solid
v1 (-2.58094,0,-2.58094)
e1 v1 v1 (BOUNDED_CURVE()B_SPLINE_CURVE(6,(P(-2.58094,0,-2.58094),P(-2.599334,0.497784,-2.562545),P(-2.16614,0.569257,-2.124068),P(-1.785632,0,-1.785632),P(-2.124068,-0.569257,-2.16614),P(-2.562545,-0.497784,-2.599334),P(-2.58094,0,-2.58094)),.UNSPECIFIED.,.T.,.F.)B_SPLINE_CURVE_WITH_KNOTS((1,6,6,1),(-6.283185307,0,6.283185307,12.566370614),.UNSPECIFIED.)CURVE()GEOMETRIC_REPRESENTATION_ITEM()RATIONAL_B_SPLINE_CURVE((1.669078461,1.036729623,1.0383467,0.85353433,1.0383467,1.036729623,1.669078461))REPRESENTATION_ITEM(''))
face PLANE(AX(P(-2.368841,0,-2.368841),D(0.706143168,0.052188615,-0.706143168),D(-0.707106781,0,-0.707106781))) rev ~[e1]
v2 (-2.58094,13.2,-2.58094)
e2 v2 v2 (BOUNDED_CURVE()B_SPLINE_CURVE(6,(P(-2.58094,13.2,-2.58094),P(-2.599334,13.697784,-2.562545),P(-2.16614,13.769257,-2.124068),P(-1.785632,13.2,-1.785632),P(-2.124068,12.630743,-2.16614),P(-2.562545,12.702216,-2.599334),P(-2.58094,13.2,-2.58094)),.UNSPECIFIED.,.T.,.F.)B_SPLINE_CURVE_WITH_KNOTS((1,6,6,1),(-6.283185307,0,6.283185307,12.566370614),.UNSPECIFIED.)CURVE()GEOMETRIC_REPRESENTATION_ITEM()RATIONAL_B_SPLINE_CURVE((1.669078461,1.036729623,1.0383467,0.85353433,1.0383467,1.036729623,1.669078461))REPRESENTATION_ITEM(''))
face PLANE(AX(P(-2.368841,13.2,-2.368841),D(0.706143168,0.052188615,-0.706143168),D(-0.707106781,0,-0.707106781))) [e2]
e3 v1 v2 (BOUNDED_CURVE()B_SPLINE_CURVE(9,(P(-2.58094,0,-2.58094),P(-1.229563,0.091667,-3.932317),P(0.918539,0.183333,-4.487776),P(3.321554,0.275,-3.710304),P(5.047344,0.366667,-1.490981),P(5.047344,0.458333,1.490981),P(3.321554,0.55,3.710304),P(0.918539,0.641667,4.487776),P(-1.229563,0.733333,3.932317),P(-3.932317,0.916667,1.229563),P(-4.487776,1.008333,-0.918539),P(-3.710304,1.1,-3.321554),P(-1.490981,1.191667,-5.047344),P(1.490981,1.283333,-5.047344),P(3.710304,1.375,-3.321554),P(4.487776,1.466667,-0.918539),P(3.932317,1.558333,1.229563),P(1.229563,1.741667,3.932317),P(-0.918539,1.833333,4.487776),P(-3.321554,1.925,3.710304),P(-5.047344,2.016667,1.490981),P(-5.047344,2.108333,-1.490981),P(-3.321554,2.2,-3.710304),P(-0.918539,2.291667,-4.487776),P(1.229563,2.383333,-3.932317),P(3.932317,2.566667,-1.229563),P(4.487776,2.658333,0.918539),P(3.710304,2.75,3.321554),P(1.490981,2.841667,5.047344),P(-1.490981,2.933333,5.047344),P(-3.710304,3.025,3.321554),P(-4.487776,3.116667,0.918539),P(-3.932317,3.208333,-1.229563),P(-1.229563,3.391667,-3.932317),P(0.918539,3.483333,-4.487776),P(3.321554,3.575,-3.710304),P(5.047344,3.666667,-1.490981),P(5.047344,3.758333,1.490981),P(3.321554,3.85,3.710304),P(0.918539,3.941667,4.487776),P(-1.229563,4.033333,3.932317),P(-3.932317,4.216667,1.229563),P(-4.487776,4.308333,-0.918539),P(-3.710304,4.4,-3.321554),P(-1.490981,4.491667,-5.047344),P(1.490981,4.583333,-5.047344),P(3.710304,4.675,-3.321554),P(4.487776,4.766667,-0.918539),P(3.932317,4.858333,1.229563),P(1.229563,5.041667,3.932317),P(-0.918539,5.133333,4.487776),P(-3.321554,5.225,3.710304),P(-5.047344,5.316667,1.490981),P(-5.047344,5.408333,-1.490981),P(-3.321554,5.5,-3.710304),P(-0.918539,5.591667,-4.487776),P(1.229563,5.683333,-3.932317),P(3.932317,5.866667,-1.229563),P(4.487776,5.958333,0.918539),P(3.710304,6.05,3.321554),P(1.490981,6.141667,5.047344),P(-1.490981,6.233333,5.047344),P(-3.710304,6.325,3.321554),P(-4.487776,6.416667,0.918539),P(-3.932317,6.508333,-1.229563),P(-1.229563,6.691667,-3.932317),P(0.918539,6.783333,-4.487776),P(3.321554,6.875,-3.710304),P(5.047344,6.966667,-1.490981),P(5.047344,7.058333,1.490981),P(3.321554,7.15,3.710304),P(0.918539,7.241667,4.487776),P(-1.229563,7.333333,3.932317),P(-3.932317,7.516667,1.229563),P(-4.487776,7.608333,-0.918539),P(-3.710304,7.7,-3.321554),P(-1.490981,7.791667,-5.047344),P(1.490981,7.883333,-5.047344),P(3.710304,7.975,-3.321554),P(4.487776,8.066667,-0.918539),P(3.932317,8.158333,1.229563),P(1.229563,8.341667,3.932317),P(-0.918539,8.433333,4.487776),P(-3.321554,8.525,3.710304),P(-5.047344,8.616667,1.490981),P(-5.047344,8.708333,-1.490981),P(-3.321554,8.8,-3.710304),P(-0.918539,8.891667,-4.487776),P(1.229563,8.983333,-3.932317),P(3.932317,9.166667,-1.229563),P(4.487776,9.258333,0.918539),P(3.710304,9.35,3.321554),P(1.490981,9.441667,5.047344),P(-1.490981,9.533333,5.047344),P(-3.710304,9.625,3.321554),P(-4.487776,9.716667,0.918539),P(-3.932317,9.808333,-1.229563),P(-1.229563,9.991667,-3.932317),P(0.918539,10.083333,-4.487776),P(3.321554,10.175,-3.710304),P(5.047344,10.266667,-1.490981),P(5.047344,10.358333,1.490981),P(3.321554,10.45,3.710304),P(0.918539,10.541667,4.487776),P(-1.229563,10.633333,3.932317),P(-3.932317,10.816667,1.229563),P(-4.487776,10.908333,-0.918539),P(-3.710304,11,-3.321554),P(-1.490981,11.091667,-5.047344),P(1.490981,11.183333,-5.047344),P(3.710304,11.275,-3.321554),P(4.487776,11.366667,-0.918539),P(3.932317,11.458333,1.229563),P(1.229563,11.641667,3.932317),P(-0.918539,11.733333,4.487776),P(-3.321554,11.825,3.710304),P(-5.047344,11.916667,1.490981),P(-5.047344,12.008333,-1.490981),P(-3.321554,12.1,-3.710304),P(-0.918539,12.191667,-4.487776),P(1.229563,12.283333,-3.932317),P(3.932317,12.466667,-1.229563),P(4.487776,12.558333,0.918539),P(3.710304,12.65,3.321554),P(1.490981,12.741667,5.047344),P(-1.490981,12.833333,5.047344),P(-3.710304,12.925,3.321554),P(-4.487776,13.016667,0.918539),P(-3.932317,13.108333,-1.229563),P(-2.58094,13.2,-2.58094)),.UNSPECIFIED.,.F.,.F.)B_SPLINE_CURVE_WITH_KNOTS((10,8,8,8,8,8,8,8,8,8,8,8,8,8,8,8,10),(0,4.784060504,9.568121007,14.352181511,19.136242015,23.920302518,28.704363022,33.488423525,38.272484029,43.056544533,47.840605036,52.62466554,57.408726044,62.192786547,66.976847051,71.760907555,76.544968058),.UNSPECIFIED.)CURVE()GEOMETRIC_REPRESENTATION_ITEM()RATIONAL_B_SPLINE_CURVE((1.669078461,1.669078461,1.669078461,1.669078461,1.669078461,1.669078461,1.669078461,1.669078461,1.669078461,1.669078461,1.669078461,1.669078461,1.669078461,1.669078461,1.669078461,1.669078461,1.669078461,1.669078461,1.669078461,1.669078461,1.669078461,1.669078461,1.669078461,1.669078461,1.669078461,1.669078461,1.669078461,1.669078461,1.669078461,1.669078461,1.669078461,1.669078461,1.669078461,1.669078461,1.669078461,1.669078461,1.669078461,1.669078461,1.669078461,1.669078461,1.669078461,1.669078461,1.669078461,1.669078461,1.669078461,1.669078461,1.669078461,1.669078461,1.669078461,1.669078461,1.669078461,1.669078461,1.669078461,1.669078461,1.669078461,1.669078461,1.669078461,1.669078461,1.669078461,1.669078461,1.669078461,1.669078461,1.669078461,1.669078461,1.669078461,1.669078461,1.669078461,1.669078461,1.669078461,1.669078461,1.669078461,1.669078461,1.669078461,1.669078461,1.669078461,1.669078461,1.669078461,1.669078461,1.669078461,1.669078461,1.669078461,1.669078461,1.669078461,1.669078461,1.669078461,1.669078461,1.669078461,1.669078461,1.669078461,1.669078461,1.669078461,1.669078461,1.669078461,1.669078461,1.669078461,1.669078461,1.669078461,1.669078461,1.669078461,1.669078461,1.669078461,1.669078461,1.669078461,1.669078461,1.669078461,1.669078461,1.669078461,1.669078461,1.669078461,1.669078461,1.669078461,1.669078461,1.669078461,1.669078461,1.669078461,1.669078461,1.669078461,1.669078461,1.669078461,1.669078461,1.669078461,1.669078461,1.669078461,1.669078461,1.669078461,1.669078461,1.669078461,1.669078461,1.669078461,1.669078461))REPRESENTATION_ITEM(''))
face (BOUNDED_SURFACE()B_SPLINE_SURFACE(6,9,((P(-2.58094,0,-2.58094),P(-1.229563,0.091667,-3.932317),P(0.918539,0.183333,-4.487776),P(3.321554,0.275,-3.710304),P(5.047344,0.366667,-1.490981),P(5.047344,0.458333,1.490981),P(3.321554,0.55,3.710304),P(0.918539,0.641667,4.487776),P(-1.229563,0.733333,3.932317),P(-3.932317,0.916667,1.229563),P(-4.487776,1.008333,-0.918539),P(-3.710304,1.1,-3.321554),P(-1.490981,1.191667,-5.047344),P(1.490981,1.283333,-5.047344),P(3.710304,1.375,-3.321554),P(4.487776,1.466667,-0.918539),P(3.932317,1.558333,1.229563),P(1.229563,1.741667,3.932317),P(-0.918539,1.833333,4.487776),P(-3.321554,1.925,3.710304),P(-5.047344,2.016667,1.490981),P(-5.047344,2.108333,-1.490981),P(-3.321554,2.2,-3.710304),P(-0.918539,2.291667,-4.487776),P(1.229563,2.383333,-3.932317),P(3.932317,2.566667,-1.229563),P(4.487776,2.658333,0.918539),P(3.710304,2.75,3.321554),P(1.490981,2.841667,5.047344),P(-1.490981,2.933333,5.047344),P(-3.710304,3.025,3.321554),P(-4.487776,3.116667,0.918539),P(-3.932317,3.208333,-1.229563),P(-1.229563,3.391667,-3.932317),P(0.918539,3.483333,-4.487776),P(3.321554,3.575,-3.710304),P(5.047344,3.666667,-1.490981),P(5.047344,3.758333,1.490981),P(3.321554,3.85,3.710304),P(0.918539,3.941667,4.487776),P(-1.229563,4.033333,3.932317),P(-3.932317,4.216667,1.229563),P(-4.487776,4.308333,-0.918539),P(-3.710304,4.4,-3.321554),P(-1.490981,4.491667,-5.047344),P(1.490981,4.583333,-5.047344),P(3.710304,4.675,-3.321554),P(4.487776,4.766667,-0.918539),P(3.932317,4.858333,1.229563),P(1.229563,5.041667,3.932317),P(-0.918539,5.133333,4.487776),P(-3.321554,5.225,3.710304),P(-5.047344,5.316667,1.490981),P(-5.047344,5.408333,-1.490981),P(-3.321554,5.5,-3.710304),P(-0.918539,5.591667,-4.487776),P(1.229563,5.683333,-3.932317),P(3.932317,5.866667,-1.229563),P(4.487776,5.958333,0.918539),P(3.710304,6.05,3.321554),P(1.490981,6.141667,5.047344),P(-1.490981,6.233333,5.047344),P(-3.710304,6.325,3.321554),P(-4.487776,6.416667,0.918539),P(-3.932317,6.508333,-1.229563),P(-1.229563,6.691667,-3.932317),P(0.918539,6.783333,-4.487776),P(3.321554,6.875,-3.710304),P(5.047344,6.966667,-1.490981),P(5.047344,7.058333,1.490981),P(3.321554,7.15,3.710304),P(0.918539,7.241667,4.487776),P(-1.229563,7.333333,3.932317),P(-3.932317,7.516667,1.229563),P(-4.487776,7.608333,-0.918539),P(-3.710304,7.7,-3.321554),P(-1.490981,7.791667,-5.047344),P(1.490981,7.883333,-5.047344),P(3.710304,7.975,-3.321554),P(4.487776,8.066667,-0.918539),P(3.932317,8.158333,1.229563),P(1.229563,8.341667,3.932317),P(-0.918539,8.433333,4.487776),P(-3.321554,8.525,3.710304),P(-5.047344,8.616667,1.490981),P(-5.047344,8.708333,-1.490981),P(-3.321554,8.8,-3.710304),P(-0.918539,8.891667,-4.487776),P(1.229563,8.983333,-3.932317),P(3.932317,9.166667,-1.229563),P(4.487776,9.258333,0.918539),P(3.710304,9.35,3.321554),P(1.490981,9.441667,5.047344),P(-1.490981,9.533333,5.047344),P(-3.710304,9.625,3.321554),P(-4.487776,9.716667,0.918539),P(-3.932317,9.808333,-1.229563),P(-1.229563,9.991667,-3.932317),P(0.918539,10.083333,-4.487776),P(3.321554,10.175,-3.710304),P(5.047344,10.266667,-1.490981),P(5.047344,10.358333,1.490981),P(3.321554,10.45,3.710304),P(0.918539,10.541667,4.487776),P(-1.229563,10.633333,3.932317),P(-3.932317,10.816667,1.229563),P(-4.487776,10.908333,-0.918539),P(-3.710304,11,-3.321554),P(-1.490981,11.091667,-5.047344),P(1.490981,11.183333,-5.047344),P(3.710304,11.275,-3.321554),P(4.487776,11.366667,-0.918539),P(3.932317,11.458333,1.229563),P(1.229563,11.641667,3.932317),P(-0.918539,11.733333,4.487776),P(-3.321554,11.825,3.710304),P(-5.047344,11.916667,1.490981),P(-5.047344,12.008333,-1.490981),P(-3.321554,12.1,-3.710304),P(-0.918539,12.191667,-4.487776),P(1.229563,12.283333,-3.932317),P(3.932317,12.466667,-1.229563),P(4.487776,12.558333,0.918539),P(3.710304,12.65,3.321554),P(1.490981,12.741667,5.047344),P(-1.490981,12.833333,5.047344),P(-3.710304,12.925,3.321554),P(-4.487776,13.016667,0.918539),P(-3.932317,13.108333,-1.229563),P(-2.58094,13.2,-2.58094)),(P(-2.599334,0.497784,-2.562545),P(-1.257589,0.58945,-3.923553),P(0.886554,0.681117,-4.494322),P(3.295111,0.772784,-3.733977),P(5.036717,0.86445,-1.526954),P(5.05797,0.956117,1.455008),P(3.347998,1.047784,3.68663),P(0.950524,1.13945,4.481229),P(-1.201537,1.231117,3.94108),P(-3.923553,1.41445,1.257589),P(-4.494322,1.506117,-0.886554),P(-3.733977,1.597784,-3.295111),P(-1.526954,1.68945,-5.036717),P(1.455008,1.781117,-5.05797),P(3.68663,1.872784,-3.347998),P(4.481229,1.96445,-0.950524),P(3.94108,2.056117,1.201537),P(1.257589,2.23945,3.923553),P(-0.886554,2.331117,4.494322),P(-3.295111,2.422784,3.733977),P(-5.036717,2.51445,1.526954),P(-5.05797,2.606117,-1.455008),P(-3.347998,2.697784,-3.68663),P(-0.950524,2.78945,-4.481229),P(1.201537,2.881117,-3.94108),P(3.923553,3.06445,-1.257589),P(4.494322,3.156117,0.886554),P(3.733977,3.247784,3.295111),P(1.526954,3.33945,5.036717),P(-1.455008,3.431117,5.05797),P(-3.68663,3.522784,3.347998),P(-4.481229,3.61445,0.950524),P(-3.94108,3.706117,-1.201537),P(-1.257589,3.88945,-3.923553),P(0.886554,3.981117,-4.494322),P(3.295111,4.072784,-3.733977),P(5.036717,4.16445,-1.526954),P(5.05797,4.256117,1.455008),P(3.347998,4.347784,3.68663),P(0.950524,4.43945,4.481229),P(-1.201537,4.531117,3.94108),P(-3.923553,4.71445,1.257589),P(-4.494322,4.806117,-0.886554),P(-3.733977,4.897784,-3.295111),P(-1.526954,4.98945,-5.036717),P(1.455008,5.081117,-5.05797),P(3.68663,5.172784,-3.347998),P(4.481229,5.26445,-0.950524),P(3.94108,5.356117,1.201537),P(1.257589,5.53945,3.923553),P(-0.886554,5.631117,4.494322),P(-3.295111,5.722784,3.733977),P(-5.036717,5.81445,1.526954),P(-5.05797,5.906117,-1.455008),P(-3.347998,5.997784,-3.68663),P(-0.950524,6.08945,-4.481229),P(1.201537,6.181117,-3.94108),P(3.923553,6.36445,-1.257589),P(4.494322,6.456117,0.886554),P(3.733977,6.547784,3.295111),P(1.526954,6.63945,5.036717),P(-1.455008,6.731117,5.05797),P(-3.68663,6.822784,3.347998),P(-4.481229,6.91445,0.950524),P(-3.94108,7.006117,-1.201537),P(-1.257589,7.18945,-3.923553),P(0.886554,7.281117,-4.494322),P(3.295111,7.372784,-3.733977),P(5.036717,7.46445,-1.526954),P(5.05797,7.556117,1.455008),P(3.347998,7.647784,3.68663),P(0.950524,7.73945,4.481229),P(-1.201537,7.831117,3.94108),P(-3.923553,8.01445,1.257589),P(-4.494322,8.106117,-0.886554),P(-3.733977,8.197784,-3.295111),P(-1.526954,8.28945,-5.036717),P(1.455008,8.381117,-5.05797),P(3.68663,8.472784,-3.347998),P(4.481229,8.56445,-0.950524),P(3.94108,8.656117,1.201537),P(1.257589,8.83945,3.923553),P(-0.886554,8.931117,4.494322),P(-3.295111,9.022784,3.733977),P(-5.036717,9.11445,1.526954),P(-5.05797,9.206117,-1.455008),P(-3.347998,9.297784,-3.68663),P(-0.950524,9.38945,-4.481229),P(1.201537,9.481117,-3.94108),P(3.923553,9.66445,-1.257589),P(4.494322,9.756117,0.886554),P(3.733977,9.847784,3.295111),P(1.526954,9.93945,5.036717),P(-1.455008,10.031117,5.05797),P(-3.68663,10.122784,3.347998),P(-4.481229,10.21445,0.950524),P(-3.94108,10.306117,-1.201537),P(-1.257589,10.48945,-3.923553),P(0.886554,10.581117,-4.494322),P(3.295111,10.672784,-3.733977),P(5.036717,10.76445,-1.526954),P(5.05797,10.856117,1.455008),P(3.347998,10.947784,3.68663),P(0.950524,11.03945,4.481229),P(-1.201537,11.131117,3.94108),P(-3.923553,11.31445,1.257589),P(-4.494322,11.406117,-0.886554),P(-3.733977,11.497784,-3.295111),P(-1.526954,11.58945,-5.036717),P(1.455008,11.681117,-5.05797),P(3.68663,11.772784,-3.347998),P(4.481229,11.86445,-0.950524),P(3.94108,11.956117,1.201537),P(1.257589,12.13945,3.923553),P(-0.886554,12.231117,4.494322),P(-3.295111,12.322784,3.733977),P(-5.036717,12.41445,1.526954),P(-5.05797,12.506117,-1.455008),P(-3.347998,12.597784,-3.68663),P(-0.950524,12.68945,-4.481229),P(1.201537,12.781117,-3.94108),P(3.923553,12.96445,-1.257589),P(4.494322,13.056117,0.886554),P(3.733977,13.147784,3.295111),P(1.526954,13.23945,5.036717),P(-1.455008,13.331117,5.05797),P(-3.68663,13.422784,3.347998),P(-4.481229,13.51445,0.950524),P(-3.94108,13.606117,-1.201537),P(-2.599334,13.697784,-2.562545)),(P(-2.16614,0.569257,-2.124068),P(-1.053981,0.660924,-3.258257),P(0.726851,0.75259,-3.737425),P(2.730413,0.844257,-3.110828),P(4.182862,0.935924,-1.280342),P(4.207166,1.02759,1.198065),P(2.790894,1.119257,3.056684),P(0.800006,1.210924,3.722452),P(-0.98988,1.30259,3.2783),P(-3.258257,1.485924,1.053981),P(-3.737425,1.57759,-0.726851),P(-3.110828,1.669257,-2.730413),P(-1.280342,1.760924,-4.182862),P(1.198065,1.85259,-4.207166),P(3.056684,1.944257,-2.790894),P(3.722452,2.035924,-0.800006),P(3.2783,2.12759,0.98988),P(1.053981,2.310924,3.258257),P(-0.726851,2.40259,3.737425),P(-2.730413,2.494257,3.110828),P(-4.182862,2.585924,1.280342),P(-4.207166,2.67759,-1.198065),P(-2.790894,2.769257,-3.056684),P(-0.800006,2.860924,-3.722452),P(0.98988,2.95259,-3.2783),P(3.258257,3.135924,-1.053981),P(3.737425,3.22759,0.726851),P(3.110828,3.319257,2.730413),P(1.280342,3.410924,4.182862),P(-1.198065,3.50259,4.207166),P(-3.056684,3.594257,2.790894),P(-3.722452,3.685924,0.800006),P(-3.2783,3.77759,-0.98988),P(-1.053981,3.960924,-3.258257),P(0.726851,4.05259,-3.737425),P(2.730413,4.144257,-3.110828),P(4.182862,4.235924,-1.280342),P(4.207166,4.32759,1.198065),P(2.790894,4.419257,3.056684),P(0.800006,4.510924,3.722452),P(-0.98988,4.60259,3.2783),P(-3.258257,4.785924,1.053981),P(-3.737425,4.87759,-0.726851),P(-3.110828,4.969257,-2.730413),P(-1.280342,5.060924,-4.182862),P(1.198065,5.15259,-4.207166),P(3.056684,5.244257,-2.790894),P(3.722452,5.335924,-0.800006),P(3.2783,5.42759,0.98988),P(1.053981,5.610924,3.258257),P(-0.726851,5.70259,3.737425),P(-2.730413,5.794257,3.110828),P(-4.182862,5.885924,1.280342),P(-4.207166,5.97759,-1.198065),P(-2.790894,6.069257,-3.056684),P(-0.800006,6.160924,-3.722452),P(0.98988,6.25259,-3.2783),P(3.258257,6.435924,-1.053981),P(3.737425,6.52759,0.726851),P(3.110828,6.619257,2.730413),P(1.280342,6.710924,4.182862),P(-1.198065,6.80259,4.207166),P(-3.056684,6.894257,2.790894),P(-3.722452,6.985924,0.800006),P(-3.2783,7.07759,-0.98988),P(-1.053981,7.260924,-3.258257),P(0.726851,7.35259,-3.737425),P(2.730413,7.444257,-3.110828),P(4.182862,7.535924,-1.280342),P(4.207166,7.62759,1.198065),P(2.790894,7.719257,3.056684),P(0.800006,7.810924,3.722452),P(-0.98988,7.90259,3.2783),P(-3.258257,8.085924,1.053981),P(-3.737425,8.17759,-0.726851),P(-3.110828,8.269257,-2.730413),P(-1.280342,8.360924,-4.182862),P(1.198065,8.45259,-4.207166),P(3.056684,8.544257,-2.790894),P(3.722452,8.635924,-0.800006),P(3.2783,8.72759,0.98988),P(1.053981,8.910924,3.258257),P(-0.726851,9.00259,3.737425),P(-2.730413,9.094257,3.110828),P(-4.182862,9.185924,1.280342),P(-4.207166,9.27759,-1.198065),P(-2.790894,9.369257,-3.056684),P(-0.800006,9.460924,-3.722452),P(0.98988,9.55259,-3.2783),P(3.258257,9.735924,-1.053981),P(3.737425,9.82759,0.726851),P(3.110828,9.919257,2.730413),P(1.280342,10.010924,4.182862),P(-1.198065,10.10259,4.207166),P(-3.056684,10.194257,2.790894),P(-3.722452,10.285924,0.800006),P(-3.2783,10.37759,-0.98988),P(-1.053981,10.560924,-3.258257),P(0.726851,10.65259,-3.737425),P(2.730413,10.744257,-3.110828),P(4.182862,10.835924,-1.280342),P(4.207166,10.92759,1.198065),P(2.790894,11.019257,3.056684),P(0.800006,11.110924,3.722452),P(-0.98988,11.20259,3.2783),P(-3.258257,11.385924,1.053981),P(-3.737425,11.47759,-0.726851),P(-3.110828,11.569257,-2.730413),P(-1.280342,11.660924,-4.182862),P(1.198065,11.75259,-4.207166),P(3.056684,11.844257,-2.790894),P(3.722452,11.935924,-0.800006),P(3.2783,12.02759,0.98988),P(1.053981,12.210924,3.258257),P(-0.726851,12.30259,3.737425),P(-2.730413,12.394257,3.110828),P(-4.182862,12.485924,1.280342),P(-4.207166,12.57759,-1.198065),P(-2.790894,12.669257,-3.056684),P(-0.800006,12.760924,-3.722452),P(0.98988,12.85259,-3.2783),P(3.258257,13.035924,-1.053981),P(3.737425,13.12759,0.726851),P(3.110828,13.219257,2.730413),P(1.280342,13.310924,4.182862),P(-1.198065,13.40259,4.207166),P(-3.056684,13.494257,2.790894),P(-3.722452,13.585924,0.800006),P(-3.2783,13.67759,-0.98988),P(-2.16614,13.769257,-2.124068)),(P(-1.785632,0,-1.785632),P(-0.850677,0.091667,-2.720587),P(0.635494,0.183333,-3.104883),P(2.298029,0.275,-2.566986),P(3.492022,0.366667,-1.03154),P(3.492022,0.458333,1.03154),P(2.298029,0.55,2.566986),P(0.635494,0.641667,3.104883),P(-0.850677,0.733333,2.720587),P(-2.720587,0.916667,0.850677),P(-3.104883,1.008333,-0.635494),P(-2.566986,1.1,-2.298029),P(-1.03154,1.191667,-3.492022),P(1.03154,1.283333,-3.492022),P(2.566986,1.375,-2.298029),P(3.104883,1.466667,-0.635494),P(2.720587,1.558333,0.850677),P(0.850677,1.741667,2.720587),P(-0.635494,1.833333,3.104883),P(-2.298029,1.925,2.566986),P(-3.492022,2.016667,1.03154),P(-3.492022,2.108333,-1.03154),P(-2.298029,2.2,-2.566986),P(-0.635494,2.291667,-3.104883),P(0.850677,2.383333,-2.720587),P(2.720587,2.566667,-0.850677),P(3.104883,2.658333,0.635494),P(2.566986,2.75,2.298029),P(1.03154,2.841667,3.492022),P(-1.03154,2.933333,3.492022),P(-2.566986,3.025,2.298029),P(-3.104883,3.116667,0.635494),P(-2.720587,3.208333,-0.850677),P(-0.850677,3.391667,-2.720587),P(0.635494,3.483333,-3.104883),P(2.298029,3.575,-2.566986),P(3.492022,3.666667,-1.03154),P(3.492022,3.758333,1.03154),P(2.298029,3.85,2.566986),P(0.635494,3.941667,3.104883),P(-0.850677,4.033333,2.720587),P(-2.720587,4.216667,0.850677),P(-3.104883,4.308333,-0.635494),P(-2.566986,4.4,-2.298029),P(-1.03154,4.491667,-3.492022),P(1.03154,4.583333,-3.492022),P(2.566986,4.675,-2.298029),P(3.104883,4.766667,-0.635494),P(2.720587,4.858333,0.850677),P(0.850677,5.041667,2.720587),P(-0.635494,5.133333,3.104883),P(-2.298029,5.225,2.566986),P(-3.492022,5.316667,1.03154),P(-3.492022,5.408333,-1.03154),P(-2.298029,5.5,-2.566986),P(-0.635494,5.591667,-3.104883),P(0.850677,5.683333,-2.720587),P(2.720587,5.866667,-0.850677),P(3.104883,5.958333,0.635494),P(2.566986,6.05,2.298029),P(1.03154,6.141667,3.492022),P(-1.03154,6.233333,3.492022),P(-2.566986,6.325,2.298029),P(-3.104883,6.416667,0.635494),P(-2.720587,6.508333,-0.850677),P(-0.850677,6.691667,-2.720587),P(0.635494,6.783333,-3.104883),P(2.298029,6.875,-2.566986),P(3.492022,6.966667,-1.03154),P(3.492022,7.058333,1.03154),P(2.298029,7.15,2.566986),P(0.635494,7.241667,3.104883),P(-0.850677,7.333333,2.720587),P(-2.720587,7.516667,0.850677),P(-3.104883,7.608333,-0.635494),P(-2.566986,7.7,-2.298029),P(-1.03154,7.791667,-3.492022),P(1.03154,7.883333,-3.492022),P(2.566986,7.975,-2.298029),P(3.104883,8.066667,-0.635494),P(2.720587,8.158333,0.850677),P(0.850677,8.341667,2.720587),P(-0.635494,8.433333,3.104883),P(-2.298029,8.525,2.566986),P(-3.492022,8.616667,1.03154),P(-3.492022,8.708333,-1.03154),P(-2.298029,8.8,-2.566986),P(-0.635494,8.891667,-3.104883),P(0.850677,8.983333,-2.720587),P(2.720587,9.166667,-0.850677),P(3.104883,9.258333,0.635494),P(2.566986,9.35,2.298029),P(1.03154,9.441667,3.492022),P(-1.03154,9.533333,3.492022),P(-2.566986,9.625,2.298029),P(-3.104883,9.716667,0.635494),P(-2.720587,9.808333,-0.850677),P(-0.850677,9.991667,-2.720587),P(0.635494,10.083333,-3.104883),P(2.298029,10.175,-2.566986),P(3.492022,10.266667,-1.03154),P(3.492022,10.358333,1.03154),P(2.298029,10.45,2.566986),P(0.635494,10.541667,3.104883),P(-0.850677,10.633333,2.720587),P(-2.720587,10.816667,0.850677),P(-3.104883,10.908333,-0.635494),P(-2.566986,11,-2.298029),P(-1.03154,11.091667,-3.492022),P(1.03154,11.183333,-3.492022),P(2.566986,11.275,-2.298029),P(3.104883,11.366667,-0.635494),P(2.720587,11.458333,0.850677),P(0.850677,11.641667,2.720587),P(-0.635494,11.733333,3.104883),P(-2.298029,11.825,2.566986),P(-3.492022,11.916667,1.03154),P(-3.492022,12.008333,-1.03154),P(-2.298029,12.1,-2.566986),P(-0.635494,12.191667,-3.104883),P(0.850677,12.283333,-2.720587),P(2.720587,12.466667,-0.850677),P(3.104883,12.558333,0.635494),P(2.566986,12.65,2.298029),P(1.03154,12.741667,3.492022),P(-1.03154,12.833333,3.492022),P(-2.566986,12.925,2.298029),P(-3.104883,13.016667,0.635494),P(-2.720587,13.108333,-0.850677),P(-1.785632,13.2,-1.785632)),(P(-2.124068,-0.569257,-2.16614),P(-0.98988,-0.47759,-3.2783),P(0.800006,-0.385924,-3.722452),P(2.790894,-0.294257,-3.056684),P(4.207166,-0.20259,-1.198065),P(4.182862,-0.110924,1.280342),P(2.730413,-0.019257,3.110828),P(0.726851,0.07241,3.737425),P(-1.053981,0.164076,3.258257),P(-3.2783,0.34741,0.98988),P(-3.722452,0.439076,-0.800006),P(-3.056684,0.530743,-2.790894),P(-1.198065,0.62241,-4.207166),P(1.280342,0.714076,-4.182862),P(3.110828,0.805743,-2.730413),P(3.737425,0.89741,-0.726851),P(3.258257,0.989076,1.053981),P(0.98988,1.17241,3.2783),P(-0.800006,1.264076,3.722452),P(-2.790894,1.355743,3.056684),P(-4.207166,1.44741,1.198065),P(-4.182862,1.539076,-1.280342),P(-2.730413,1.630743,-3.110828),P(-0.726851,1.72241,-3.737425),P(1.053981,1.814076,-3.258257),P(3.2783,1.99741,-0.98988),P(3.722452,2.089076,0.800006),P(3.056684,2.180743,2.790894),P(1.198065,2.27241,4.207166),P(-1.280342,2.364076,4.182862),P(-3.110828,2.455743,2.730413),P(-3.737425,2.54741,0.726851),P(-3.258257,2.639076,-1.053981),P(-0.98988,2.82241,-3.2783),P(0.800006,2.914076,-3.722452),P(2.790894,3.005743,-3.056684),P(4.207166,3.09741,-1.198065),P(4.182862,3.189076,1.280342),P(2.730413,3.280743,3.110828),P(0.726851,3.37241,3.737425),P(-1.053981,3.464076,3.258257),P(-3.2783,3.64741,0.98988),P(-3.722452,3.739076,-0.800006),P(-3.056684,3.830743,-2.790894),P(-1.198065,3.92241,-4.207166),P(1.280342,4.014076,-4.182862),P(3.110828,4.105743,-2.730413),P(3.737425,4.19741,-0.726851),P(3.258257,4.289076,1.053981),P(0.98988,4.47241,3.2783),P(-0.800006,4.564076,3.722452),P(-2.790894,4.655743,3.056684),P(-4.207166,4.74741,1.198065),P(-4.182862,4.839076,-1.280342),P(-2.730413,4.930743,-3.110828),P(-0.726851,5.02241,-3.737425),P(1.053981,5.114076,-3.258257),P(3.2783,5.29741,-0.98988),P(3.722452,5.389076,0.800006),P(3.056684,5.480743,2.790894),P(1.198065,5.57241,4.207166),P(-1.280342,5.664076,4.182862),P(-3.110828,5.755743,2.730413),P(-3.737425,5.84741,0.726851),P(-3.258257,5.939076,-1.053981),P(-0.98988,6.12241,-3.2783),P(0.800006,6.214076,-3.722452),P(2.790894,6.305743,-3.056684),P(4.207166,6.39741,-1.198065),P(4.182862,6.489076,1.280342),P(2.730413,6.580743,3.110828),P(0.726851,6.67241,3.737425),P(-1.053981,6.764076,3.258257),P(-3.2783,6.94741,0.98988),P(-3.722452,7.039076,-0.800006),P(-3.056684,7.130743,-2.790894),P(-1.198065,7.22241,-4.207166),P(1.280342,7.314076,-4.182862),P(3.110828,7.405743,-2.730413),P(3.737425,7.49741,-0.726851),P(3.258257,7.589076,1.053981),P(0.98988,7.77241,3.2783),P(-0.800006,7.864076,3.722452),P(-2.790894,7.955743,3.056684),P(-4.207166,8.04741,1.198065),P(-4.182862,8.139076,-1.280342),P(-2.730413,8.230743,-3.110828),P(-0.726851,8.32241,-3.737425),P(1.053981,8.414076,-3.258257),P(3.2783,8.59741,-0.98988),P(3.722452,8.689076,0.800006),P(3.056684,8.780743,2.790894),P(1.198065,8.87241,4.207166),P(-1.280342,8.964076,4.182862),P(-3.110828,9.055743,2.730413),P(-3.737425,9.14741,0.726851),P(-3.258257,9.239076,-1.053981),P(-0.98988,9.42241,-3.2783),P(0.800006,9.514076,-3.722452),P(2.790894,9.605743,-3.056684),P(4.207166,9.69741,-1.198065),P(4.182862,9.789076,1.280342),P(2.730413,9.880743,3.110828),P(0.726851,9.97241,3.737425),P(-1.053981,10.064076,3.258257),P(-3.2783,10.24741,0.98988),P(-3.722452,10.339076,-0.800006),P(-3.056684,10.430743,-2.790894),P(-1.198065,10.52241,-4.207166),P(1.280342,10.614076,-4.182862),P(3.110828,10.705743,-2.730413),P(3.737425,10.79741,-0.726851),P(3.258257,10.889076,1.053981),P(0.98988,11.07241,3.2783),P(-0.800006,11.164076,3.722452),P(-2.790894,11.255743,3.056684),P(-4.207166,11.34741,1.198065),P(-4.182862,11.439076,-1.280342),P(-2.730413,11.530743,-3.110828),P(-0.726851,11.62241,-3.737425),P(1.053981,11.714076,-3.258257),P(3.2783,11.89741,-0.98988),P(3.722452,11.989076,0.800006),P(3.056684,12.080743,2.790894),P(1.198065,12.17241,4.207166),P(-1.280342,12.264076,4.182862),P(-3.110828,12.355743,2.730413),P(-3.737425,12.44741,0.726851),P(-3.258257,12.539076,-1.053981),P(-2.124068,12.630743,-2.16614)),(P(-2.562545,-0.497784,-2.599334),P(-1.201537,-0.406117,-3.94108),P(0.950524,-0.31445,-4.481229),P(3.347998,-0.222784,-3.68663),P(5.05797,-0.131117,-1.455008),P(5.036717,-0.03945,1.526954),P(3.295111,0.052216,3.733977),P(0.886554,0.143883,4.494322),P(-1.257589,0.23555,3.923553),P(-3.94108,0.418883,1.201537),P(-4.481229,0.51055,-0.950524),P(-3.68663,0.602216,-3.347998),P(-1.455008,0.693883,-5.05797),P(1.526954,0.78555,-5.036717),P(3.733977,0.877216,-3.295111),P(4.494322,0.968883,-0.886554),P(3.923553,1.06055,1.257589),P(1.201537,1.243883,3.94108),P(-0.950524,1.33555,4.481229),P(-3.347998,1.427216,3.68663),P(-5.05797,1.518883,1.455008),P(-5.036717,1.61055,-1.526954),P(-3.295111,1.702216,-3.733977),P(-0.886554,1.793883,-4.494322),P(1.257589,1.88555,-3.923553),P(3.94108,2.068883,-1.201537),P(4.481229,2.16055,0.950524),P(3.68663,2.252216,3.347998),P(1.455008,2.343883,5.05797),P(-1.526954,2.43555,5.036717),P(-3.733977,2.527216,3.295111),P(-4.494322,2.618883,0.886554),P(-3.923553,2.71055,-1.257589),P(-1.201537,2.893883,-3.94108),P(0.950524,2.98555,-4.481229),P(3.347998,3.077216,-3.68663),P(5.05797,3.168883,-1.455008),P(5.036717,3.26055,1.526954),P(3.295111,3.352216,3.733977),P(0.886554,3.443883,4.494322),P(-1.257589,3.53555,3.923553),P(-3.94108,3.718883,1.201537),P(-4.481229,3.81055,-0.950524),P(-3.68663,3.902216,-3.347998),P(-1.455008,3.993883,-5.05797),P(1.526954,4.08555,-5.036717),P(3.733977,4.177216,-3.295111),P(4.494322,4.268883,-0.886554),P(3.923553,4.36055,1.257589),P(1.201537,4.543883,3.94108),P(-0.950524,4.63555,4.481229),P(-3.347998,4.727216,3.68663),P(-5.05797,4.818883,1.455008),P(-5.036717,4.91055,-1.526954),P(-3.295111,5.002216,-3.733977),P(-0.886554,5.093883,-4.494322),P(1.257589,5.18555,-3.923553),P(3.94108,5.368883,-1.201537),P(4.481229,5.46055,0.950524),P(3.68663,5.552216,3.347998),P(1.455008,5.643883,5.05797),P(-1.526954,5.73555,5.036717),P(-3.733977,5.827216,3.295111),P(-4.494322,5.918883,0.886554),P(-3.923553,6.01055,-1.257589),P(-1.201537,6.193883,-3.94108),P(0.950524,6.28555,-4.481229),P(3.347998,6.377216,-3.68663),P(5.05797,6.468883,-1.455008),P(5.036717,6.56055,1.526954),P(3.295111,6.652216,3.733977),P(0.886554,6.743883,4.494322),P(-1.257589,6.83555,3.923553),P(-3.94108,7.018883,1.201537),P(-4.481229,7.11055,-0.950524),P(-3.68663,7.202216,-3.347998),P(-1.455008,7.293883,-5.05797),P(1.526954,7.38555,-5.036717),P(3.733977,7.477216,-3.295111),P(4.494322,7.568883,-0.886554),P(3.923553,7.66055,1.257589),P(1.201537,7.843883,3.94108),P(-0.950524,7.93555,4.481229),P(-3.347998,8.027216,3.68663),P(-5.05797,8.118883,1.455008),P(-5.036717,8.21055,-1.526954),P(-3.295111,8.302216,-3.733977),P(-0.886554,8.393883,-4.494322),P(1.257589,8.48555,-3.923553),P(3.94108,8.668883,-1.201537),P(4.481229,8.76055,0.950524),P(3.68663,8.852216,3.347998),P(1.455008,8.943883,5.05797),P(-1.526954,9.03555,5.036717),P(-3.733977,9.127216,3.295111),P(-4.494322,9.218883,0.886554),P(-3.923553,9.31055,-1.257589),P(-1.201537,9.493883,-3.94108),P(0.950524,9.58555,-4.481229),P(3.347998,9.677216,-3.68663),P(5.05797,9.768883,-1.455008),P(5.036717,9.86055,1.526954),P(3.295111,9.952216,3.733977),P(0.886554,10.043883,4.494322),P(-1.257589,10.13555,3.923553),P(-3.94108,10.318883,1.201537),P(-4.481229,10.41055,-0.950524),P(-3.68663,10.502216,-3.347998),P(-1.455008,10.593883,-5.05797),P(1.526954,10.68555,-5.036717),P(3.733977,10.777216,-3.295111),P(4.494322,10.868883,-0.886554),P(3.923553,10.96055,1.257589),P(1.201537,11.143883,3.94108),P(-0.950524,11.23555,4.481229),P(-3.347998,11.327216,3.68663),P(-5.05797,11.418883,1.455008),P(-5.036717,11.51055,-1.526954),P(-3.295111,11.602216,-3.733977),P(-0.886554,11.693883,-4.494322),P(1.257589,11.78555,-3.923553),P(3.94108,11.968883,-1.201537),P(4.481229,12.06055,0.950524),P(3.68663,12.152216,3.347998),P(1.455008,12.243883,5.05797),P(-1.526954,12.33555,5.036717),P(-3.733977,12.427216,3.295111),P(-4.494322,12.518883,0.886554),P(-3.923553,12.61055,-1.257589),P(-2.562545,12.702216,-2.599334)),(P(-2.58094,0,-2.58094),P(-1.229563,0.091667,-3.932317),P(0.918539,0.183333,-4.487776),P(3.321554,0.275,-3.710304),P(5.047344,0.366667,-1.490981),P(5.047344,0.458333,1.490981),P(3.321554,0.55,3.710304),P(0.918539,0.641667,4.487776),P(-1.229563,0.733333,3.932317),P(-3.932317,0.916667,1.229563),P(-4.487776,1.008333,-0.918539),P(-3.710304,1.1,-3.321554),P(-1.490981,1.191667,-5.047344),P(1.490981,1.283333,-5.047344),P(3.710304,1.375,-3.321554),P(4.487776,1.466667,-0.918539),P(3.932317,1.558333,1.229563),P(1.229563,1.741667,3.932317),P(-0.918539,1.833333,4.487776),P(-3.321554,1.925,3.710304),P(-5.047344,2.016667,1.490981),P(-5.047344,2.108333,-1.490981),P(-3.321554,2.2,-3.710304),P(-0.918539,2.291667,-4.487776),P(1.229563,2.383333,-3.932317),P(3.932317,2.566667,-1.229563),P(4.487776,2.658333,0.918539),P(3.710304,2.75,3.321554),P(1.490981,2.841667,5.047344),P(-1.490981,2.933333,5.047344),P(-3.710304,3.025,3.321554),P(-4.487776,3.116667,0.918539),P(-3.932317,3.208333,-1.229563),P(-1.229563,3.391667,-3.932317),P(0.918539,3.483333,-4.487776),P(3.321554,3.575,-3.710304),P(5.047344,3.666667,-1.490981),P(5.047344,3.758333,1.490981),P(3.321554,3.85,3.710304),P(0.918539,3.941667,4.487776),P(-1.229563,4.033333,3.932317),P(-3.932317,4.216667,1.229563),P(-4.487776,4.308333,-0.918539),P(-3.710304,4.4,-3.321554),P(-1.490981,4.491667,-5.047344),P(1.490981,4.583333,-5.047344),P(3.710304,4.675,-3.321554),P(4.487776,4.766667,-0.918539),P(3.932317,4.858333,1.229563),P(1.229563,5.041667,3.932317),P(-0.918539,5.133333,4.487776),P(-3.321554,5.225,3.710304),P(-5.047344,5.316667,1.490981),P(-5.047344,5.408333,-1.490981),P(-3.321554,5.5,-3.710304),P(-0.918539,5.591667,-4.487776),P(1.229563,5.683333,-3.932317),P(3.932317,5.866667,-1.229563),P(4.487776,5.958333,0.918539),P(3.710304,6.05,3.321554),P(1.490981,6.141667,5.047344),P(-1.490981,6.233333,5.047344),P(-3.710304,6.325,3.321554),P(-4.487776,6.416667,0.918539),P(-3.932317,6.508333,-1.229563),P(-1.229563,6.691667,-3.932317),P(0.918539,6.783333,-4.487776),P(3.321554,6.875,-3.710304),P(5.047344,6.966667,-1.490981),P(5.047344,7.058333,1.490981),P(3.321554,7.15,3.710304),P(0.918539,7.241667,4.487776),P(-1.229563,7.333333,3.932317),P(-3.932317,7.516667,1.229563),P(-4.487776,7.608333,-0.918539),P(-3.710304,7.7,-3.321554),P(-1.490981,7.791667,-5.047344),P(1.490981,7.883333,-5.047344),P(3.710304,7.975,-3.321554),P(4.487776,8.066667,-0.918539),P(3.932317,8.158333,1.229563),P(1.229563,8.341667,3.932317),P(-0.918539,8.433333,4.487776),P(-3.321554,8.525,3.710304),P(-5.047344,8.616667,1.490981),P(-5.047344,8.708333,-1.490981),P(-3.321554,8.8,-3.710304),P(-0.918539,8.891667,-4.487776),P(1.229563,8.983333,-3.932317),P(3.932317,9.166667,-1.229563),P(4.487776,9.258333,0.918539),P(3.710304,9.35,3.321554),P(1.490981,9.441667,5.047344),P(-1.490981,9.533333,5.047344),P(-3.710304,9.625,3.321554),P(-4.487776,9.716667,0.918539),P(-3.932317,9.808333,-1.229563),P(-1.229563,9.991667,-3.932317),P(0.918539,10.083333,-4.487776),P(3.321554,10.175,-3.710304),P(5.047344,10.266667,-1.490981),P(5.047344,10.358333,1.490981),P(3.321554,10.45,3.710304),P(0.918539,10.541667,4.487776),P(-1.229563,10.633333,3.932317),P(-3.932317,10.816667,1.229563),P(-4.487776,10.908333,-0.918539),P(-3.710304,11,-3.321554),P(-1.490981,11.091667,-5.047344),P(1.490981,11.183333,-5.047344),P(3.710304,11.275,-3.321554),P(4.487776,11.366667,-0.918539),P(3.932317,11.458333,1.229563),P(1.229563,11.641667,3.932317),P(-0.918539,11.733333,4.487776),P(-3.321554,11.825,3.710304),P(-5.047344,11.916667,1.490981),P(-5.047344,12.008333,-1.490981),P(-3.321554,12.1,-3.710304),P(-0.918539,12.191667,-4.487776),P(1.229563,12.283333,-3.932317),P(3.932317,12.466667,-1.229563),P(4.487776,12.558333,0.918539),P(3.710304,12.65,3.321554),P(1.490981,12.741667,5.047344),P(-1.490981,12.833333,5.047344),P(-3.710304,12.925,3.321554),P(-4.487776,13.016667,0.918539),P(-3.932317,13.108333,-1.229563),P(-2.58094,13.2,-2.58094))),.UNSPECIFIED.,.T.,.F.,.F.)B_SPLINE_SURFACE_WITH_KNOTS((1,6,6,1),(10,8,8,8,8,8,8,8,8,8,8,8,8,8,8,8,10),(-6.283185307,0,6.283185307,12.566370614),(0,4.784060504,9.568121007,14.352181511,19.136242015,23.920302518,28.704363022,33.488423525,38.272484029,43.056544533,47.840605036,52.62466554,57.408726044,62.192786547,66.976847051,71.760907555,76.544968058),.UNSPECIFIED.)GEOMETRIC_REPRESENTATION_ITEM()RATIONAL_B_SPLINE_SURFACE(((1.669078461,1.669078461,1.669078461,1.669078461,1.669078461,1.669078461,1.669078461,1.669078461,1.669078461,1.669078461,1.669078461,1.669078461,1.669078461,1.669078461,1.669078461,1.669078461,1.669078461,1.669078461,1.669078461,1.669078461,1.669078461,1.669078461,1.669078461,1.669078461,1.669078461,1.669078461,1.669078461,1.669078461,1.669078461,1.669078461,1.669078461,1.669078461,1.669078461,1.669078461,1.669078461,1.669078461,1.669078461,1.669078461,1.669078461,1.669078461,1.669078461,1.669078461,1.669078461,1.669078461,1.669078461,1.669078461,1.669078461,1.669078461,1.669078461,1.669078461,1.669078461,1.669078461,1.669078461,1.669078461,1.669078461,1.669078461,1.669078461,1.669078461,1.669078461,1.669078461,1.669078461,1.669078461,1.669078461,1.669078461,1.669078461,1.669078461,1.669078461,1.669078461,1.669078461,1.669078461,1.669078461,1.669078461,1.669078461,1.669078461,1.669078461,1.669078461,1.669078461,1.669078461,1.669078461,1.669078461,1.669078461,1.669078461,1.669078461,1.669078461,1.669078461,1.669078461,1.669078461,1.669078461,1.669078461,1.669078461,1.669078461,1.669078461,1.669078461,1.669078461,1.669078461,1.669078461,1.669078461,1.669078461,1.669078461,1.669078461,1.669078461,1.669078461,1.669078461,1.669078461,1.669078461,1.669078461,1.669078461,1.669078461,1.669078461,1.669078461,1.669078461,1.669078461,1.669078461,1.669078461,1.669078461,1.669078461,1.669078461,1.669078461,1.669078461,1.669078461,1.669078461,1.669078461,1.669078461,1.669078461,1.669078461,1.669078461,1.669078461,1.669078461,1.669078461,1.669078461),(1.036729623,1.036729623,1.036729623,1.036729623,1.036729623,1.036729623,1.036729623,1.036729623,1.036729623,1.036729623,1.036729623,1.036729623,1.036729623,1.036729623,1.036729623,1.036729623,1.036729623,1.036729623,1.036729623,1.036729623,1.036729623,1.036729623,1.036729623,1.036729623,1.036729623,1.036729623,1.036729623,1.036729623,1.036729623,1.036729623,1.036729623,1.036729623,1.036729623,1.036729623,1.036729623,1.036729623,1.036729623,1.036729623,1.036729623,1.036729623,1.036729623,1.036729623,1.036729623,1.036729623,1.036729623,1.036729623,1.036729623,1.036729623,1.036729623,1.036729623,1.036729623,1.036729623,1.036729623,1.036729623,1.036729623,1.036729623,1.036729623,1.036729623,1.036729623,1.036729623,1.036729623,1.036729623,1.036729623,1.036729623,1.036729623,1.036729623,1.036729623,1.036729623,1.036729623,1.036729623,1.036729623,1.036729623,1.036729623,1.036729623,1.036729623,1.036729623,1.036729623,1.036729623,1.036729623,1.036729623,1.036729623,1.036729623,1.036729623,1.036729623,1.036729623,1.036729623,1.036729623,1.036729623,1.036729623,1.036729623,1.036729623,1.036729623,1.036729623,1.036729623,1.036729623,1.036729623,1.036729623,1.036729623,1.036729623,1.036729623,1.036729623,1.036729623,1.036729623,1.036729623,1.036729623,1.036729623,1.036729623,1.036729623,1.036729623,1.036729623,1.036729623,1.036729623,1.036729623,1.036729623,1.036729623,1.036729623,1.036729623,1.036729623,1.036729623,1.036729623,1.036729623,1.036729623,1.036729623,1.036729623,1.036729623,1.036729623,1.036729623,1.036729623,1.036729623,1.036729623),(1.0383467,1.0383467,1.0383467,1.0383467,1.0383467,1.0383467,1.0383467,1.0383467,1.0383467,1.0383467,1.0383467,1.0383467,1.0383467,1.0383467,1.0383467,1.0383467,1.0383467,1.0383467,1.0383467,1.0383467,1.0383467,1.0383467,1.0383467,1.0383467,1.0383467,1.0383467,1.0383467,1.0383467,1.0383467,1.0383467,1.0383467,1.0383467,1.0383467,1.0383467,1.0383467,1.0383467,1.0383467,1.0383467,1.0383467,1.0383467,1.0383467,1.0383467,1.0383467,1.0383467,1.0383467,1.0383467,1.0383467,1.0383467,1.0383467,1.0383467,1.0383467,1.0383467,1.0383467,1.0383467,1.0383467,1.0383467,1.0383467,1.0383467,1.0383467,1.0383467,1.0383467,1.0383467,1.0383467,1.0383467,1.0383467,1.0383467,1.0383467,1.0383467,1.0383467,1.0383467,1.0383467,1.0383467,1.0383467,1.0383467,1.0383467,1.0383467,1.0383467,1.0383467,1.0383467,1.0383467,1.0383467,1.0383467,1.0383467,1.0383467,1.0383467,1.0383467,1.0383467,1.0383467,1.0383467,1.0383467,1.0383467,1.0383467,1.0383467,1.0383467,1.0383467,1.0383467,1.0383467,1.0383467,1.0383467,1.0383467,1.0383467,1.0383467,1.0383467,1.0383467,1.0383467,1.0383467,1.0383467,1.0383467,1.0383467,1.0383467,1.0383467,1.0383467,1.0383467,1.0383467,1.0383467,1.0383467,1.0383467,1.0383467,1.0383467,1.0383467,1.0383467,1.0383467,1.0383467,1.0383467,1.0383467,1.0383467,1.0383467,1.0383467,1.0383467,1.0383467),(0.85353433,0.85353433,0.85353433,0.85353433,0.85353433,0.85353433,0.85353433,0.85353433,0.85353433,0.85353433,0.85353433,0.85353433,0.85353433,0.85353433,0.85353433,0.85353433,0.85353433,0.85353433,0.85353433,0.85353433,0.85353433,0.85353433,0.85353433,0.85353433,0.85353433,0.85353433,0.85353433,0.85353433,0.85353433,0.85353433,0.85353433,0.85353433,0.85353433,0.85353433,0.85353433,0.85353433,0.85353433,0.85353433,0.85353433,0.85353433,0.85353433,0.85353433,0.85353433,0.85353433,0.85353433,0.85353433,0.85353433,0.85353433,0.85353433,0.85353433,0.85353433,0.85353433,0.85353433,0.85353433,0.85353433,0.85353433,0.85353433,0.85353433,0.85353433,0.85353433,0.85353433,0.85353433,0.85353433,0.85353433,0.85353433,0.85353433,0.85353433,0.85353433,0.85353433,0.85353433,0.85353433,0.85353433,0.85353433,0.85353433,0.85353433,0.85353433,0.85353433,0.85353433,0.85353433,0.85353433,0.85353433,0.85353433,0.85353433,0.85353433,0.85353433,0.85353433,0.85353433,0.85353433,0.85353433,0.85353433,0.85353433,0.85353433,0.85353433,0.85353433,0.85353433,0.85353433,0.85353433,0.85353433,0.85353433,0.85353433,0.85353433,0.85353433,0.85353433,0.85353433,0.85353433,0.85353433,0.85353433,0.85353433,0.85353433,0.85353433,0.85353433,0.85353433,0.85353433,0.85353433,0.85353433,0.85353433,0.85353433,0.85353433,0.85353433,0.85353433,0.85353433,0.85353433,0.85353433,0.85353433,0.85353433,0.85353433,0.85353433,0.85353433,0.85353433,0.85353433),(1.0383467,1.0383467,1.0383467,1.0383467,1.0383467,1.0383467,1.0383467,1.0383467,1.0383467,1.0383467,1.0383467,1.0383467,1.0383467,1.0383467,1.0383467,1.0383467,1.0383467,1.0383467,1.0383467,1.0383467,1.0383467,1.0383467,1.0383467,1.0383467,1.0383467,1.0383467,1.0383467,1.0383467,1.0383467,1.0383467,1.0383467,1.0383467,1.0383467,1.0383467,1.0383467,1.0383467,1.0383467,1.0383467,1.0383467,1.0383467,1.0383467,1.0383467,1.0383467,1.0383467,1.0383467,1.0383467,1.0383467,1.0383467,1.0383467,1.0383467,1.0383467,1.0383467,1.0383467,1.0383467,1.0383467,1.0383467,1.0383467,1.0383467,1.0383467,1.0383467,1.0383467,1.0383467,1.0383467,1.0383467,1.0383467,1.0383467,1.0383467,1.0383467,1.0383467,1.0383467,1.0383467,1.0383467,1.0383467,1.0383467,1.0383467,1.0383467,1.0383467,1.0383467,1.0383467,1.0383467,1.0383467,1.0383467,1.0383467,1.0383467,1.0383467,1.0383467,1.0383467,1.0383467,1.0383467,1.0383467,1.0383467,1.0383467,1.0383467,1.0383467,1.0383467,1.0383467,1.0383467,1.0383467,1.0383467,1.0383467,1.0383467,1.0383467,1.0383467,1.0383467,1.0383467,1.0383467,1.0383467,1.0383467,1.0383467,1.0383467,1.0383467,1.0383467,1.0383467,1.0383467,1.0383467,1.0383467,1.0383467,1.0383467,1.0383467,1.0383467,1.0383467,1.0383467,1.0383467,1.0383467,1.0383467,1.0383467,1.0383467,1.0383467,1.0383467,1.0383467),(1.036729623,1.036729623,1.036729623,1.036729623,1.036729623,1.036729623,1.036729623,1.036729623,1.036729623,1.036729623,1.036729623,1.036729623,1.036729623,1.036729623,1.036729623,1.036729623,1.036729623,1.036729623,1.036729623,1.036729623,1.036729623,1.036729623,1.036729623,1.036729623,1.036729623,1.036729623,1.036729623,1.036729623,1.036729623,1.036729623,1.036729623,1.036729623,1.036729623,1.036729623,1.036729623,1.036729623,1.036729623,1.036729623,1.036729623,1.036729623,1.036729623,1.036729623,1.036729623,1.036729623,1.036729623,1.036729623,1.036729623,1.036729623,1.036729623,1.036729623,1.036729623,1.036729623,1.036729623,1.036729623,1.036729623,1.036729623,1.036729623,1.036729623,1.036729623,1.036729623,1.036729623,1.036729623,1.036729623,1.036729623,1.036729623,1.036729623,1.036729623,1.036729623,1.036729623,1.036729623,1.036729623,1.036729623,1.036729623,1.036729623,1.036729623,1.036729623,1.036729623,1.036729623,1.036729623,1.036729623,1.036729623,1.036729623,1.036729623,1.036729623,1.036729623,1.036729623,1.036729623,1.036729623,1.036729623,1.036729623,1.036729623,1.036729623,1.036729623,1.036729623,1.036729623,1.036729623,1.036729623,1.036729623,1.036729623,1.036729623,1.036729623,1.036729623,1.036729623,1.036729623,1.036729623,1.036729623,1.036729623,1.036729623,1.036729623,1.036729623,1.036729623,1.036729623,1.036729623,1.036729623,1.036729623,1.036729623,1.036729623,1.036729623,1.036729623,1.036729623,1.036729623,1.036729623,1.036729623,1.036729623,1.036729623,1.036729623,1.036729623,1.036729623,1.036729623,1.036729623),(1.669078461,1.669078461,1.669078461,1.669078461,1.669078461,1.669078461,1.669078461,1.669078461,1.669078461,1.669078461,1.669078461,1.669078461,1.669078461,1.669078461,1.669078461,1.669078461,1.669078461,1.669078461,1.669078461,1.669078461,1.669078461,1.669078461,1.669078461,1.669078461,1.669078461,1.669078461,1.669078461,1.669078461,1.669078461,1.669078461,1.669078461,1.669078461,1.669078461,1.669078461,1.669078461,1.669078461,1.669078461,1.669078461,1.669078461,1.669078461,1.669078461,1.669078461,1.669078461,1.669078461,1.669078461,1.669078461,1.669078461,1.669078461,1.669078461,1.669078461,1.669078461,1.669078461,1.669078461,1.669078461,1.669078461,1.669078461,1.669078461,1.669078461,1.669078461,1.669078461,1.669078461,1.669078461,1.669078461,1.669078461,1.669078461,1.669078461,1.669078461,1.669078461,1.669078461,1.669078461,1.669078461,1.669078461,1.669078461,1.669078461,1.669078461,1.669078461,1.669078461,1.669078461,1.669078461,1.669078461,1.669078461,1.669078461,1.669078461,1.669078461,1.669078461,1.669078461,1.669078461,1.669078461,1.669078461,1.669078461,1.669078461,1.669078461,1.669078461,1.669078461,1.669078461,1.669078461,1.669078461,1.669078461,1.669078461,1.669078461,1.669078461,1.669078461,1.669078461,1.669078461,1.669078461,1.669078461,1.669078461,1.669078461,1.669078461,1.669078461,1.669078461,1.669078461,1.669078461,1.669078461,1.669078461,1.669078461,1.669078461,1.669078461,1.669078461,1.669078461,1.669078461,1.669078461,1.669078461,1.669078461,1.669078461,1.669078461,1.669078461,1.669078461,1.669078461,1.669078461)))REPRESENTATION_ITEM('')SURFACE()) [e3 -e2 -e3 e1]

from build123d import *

# Parameters (mm, degrees)
SWEEP2_PITCH       = 1.1
SWEEP2_HEIGHT      = 13.2
SWEEP2_RADIUS      = 3.35
SWEEP2_START_ANGLE = -135
SWEEP2_PROFILE_R   = 0.3


with BuildPart() as part:
    # Sweep2: sweep along a helix
    with BuildLine() as sweep2_path:
        add(Helix(SWEEP2_PITCH, SWEEP2_HEIGHT, SWEEP2_RADIUS, center=(0, 0, 0), direction=(0, 1, 0), lefthand=True, mode=Mode.PRIVATE).rotate(Axis((0, 0, 0), (0, 1, 0)), SWEEP2_START_ANGLE))
    # Sweep2 profile (on start of the path) → Sweep2 (sweep)
    with BuildSketch(Plane(origin=(-2.368807717, 0, -2.368807717), x_dir=(-0.707106781186963, 0, -0.707106781186132), z_dir=(0.7061431683764361, 0.05218861474885663, -0.7061431683772659))):
        Circle(SWEEP2_PROFILE_R)
    sweep(path=sweep2_path.line, is_frenet=True)


solid = part.part
